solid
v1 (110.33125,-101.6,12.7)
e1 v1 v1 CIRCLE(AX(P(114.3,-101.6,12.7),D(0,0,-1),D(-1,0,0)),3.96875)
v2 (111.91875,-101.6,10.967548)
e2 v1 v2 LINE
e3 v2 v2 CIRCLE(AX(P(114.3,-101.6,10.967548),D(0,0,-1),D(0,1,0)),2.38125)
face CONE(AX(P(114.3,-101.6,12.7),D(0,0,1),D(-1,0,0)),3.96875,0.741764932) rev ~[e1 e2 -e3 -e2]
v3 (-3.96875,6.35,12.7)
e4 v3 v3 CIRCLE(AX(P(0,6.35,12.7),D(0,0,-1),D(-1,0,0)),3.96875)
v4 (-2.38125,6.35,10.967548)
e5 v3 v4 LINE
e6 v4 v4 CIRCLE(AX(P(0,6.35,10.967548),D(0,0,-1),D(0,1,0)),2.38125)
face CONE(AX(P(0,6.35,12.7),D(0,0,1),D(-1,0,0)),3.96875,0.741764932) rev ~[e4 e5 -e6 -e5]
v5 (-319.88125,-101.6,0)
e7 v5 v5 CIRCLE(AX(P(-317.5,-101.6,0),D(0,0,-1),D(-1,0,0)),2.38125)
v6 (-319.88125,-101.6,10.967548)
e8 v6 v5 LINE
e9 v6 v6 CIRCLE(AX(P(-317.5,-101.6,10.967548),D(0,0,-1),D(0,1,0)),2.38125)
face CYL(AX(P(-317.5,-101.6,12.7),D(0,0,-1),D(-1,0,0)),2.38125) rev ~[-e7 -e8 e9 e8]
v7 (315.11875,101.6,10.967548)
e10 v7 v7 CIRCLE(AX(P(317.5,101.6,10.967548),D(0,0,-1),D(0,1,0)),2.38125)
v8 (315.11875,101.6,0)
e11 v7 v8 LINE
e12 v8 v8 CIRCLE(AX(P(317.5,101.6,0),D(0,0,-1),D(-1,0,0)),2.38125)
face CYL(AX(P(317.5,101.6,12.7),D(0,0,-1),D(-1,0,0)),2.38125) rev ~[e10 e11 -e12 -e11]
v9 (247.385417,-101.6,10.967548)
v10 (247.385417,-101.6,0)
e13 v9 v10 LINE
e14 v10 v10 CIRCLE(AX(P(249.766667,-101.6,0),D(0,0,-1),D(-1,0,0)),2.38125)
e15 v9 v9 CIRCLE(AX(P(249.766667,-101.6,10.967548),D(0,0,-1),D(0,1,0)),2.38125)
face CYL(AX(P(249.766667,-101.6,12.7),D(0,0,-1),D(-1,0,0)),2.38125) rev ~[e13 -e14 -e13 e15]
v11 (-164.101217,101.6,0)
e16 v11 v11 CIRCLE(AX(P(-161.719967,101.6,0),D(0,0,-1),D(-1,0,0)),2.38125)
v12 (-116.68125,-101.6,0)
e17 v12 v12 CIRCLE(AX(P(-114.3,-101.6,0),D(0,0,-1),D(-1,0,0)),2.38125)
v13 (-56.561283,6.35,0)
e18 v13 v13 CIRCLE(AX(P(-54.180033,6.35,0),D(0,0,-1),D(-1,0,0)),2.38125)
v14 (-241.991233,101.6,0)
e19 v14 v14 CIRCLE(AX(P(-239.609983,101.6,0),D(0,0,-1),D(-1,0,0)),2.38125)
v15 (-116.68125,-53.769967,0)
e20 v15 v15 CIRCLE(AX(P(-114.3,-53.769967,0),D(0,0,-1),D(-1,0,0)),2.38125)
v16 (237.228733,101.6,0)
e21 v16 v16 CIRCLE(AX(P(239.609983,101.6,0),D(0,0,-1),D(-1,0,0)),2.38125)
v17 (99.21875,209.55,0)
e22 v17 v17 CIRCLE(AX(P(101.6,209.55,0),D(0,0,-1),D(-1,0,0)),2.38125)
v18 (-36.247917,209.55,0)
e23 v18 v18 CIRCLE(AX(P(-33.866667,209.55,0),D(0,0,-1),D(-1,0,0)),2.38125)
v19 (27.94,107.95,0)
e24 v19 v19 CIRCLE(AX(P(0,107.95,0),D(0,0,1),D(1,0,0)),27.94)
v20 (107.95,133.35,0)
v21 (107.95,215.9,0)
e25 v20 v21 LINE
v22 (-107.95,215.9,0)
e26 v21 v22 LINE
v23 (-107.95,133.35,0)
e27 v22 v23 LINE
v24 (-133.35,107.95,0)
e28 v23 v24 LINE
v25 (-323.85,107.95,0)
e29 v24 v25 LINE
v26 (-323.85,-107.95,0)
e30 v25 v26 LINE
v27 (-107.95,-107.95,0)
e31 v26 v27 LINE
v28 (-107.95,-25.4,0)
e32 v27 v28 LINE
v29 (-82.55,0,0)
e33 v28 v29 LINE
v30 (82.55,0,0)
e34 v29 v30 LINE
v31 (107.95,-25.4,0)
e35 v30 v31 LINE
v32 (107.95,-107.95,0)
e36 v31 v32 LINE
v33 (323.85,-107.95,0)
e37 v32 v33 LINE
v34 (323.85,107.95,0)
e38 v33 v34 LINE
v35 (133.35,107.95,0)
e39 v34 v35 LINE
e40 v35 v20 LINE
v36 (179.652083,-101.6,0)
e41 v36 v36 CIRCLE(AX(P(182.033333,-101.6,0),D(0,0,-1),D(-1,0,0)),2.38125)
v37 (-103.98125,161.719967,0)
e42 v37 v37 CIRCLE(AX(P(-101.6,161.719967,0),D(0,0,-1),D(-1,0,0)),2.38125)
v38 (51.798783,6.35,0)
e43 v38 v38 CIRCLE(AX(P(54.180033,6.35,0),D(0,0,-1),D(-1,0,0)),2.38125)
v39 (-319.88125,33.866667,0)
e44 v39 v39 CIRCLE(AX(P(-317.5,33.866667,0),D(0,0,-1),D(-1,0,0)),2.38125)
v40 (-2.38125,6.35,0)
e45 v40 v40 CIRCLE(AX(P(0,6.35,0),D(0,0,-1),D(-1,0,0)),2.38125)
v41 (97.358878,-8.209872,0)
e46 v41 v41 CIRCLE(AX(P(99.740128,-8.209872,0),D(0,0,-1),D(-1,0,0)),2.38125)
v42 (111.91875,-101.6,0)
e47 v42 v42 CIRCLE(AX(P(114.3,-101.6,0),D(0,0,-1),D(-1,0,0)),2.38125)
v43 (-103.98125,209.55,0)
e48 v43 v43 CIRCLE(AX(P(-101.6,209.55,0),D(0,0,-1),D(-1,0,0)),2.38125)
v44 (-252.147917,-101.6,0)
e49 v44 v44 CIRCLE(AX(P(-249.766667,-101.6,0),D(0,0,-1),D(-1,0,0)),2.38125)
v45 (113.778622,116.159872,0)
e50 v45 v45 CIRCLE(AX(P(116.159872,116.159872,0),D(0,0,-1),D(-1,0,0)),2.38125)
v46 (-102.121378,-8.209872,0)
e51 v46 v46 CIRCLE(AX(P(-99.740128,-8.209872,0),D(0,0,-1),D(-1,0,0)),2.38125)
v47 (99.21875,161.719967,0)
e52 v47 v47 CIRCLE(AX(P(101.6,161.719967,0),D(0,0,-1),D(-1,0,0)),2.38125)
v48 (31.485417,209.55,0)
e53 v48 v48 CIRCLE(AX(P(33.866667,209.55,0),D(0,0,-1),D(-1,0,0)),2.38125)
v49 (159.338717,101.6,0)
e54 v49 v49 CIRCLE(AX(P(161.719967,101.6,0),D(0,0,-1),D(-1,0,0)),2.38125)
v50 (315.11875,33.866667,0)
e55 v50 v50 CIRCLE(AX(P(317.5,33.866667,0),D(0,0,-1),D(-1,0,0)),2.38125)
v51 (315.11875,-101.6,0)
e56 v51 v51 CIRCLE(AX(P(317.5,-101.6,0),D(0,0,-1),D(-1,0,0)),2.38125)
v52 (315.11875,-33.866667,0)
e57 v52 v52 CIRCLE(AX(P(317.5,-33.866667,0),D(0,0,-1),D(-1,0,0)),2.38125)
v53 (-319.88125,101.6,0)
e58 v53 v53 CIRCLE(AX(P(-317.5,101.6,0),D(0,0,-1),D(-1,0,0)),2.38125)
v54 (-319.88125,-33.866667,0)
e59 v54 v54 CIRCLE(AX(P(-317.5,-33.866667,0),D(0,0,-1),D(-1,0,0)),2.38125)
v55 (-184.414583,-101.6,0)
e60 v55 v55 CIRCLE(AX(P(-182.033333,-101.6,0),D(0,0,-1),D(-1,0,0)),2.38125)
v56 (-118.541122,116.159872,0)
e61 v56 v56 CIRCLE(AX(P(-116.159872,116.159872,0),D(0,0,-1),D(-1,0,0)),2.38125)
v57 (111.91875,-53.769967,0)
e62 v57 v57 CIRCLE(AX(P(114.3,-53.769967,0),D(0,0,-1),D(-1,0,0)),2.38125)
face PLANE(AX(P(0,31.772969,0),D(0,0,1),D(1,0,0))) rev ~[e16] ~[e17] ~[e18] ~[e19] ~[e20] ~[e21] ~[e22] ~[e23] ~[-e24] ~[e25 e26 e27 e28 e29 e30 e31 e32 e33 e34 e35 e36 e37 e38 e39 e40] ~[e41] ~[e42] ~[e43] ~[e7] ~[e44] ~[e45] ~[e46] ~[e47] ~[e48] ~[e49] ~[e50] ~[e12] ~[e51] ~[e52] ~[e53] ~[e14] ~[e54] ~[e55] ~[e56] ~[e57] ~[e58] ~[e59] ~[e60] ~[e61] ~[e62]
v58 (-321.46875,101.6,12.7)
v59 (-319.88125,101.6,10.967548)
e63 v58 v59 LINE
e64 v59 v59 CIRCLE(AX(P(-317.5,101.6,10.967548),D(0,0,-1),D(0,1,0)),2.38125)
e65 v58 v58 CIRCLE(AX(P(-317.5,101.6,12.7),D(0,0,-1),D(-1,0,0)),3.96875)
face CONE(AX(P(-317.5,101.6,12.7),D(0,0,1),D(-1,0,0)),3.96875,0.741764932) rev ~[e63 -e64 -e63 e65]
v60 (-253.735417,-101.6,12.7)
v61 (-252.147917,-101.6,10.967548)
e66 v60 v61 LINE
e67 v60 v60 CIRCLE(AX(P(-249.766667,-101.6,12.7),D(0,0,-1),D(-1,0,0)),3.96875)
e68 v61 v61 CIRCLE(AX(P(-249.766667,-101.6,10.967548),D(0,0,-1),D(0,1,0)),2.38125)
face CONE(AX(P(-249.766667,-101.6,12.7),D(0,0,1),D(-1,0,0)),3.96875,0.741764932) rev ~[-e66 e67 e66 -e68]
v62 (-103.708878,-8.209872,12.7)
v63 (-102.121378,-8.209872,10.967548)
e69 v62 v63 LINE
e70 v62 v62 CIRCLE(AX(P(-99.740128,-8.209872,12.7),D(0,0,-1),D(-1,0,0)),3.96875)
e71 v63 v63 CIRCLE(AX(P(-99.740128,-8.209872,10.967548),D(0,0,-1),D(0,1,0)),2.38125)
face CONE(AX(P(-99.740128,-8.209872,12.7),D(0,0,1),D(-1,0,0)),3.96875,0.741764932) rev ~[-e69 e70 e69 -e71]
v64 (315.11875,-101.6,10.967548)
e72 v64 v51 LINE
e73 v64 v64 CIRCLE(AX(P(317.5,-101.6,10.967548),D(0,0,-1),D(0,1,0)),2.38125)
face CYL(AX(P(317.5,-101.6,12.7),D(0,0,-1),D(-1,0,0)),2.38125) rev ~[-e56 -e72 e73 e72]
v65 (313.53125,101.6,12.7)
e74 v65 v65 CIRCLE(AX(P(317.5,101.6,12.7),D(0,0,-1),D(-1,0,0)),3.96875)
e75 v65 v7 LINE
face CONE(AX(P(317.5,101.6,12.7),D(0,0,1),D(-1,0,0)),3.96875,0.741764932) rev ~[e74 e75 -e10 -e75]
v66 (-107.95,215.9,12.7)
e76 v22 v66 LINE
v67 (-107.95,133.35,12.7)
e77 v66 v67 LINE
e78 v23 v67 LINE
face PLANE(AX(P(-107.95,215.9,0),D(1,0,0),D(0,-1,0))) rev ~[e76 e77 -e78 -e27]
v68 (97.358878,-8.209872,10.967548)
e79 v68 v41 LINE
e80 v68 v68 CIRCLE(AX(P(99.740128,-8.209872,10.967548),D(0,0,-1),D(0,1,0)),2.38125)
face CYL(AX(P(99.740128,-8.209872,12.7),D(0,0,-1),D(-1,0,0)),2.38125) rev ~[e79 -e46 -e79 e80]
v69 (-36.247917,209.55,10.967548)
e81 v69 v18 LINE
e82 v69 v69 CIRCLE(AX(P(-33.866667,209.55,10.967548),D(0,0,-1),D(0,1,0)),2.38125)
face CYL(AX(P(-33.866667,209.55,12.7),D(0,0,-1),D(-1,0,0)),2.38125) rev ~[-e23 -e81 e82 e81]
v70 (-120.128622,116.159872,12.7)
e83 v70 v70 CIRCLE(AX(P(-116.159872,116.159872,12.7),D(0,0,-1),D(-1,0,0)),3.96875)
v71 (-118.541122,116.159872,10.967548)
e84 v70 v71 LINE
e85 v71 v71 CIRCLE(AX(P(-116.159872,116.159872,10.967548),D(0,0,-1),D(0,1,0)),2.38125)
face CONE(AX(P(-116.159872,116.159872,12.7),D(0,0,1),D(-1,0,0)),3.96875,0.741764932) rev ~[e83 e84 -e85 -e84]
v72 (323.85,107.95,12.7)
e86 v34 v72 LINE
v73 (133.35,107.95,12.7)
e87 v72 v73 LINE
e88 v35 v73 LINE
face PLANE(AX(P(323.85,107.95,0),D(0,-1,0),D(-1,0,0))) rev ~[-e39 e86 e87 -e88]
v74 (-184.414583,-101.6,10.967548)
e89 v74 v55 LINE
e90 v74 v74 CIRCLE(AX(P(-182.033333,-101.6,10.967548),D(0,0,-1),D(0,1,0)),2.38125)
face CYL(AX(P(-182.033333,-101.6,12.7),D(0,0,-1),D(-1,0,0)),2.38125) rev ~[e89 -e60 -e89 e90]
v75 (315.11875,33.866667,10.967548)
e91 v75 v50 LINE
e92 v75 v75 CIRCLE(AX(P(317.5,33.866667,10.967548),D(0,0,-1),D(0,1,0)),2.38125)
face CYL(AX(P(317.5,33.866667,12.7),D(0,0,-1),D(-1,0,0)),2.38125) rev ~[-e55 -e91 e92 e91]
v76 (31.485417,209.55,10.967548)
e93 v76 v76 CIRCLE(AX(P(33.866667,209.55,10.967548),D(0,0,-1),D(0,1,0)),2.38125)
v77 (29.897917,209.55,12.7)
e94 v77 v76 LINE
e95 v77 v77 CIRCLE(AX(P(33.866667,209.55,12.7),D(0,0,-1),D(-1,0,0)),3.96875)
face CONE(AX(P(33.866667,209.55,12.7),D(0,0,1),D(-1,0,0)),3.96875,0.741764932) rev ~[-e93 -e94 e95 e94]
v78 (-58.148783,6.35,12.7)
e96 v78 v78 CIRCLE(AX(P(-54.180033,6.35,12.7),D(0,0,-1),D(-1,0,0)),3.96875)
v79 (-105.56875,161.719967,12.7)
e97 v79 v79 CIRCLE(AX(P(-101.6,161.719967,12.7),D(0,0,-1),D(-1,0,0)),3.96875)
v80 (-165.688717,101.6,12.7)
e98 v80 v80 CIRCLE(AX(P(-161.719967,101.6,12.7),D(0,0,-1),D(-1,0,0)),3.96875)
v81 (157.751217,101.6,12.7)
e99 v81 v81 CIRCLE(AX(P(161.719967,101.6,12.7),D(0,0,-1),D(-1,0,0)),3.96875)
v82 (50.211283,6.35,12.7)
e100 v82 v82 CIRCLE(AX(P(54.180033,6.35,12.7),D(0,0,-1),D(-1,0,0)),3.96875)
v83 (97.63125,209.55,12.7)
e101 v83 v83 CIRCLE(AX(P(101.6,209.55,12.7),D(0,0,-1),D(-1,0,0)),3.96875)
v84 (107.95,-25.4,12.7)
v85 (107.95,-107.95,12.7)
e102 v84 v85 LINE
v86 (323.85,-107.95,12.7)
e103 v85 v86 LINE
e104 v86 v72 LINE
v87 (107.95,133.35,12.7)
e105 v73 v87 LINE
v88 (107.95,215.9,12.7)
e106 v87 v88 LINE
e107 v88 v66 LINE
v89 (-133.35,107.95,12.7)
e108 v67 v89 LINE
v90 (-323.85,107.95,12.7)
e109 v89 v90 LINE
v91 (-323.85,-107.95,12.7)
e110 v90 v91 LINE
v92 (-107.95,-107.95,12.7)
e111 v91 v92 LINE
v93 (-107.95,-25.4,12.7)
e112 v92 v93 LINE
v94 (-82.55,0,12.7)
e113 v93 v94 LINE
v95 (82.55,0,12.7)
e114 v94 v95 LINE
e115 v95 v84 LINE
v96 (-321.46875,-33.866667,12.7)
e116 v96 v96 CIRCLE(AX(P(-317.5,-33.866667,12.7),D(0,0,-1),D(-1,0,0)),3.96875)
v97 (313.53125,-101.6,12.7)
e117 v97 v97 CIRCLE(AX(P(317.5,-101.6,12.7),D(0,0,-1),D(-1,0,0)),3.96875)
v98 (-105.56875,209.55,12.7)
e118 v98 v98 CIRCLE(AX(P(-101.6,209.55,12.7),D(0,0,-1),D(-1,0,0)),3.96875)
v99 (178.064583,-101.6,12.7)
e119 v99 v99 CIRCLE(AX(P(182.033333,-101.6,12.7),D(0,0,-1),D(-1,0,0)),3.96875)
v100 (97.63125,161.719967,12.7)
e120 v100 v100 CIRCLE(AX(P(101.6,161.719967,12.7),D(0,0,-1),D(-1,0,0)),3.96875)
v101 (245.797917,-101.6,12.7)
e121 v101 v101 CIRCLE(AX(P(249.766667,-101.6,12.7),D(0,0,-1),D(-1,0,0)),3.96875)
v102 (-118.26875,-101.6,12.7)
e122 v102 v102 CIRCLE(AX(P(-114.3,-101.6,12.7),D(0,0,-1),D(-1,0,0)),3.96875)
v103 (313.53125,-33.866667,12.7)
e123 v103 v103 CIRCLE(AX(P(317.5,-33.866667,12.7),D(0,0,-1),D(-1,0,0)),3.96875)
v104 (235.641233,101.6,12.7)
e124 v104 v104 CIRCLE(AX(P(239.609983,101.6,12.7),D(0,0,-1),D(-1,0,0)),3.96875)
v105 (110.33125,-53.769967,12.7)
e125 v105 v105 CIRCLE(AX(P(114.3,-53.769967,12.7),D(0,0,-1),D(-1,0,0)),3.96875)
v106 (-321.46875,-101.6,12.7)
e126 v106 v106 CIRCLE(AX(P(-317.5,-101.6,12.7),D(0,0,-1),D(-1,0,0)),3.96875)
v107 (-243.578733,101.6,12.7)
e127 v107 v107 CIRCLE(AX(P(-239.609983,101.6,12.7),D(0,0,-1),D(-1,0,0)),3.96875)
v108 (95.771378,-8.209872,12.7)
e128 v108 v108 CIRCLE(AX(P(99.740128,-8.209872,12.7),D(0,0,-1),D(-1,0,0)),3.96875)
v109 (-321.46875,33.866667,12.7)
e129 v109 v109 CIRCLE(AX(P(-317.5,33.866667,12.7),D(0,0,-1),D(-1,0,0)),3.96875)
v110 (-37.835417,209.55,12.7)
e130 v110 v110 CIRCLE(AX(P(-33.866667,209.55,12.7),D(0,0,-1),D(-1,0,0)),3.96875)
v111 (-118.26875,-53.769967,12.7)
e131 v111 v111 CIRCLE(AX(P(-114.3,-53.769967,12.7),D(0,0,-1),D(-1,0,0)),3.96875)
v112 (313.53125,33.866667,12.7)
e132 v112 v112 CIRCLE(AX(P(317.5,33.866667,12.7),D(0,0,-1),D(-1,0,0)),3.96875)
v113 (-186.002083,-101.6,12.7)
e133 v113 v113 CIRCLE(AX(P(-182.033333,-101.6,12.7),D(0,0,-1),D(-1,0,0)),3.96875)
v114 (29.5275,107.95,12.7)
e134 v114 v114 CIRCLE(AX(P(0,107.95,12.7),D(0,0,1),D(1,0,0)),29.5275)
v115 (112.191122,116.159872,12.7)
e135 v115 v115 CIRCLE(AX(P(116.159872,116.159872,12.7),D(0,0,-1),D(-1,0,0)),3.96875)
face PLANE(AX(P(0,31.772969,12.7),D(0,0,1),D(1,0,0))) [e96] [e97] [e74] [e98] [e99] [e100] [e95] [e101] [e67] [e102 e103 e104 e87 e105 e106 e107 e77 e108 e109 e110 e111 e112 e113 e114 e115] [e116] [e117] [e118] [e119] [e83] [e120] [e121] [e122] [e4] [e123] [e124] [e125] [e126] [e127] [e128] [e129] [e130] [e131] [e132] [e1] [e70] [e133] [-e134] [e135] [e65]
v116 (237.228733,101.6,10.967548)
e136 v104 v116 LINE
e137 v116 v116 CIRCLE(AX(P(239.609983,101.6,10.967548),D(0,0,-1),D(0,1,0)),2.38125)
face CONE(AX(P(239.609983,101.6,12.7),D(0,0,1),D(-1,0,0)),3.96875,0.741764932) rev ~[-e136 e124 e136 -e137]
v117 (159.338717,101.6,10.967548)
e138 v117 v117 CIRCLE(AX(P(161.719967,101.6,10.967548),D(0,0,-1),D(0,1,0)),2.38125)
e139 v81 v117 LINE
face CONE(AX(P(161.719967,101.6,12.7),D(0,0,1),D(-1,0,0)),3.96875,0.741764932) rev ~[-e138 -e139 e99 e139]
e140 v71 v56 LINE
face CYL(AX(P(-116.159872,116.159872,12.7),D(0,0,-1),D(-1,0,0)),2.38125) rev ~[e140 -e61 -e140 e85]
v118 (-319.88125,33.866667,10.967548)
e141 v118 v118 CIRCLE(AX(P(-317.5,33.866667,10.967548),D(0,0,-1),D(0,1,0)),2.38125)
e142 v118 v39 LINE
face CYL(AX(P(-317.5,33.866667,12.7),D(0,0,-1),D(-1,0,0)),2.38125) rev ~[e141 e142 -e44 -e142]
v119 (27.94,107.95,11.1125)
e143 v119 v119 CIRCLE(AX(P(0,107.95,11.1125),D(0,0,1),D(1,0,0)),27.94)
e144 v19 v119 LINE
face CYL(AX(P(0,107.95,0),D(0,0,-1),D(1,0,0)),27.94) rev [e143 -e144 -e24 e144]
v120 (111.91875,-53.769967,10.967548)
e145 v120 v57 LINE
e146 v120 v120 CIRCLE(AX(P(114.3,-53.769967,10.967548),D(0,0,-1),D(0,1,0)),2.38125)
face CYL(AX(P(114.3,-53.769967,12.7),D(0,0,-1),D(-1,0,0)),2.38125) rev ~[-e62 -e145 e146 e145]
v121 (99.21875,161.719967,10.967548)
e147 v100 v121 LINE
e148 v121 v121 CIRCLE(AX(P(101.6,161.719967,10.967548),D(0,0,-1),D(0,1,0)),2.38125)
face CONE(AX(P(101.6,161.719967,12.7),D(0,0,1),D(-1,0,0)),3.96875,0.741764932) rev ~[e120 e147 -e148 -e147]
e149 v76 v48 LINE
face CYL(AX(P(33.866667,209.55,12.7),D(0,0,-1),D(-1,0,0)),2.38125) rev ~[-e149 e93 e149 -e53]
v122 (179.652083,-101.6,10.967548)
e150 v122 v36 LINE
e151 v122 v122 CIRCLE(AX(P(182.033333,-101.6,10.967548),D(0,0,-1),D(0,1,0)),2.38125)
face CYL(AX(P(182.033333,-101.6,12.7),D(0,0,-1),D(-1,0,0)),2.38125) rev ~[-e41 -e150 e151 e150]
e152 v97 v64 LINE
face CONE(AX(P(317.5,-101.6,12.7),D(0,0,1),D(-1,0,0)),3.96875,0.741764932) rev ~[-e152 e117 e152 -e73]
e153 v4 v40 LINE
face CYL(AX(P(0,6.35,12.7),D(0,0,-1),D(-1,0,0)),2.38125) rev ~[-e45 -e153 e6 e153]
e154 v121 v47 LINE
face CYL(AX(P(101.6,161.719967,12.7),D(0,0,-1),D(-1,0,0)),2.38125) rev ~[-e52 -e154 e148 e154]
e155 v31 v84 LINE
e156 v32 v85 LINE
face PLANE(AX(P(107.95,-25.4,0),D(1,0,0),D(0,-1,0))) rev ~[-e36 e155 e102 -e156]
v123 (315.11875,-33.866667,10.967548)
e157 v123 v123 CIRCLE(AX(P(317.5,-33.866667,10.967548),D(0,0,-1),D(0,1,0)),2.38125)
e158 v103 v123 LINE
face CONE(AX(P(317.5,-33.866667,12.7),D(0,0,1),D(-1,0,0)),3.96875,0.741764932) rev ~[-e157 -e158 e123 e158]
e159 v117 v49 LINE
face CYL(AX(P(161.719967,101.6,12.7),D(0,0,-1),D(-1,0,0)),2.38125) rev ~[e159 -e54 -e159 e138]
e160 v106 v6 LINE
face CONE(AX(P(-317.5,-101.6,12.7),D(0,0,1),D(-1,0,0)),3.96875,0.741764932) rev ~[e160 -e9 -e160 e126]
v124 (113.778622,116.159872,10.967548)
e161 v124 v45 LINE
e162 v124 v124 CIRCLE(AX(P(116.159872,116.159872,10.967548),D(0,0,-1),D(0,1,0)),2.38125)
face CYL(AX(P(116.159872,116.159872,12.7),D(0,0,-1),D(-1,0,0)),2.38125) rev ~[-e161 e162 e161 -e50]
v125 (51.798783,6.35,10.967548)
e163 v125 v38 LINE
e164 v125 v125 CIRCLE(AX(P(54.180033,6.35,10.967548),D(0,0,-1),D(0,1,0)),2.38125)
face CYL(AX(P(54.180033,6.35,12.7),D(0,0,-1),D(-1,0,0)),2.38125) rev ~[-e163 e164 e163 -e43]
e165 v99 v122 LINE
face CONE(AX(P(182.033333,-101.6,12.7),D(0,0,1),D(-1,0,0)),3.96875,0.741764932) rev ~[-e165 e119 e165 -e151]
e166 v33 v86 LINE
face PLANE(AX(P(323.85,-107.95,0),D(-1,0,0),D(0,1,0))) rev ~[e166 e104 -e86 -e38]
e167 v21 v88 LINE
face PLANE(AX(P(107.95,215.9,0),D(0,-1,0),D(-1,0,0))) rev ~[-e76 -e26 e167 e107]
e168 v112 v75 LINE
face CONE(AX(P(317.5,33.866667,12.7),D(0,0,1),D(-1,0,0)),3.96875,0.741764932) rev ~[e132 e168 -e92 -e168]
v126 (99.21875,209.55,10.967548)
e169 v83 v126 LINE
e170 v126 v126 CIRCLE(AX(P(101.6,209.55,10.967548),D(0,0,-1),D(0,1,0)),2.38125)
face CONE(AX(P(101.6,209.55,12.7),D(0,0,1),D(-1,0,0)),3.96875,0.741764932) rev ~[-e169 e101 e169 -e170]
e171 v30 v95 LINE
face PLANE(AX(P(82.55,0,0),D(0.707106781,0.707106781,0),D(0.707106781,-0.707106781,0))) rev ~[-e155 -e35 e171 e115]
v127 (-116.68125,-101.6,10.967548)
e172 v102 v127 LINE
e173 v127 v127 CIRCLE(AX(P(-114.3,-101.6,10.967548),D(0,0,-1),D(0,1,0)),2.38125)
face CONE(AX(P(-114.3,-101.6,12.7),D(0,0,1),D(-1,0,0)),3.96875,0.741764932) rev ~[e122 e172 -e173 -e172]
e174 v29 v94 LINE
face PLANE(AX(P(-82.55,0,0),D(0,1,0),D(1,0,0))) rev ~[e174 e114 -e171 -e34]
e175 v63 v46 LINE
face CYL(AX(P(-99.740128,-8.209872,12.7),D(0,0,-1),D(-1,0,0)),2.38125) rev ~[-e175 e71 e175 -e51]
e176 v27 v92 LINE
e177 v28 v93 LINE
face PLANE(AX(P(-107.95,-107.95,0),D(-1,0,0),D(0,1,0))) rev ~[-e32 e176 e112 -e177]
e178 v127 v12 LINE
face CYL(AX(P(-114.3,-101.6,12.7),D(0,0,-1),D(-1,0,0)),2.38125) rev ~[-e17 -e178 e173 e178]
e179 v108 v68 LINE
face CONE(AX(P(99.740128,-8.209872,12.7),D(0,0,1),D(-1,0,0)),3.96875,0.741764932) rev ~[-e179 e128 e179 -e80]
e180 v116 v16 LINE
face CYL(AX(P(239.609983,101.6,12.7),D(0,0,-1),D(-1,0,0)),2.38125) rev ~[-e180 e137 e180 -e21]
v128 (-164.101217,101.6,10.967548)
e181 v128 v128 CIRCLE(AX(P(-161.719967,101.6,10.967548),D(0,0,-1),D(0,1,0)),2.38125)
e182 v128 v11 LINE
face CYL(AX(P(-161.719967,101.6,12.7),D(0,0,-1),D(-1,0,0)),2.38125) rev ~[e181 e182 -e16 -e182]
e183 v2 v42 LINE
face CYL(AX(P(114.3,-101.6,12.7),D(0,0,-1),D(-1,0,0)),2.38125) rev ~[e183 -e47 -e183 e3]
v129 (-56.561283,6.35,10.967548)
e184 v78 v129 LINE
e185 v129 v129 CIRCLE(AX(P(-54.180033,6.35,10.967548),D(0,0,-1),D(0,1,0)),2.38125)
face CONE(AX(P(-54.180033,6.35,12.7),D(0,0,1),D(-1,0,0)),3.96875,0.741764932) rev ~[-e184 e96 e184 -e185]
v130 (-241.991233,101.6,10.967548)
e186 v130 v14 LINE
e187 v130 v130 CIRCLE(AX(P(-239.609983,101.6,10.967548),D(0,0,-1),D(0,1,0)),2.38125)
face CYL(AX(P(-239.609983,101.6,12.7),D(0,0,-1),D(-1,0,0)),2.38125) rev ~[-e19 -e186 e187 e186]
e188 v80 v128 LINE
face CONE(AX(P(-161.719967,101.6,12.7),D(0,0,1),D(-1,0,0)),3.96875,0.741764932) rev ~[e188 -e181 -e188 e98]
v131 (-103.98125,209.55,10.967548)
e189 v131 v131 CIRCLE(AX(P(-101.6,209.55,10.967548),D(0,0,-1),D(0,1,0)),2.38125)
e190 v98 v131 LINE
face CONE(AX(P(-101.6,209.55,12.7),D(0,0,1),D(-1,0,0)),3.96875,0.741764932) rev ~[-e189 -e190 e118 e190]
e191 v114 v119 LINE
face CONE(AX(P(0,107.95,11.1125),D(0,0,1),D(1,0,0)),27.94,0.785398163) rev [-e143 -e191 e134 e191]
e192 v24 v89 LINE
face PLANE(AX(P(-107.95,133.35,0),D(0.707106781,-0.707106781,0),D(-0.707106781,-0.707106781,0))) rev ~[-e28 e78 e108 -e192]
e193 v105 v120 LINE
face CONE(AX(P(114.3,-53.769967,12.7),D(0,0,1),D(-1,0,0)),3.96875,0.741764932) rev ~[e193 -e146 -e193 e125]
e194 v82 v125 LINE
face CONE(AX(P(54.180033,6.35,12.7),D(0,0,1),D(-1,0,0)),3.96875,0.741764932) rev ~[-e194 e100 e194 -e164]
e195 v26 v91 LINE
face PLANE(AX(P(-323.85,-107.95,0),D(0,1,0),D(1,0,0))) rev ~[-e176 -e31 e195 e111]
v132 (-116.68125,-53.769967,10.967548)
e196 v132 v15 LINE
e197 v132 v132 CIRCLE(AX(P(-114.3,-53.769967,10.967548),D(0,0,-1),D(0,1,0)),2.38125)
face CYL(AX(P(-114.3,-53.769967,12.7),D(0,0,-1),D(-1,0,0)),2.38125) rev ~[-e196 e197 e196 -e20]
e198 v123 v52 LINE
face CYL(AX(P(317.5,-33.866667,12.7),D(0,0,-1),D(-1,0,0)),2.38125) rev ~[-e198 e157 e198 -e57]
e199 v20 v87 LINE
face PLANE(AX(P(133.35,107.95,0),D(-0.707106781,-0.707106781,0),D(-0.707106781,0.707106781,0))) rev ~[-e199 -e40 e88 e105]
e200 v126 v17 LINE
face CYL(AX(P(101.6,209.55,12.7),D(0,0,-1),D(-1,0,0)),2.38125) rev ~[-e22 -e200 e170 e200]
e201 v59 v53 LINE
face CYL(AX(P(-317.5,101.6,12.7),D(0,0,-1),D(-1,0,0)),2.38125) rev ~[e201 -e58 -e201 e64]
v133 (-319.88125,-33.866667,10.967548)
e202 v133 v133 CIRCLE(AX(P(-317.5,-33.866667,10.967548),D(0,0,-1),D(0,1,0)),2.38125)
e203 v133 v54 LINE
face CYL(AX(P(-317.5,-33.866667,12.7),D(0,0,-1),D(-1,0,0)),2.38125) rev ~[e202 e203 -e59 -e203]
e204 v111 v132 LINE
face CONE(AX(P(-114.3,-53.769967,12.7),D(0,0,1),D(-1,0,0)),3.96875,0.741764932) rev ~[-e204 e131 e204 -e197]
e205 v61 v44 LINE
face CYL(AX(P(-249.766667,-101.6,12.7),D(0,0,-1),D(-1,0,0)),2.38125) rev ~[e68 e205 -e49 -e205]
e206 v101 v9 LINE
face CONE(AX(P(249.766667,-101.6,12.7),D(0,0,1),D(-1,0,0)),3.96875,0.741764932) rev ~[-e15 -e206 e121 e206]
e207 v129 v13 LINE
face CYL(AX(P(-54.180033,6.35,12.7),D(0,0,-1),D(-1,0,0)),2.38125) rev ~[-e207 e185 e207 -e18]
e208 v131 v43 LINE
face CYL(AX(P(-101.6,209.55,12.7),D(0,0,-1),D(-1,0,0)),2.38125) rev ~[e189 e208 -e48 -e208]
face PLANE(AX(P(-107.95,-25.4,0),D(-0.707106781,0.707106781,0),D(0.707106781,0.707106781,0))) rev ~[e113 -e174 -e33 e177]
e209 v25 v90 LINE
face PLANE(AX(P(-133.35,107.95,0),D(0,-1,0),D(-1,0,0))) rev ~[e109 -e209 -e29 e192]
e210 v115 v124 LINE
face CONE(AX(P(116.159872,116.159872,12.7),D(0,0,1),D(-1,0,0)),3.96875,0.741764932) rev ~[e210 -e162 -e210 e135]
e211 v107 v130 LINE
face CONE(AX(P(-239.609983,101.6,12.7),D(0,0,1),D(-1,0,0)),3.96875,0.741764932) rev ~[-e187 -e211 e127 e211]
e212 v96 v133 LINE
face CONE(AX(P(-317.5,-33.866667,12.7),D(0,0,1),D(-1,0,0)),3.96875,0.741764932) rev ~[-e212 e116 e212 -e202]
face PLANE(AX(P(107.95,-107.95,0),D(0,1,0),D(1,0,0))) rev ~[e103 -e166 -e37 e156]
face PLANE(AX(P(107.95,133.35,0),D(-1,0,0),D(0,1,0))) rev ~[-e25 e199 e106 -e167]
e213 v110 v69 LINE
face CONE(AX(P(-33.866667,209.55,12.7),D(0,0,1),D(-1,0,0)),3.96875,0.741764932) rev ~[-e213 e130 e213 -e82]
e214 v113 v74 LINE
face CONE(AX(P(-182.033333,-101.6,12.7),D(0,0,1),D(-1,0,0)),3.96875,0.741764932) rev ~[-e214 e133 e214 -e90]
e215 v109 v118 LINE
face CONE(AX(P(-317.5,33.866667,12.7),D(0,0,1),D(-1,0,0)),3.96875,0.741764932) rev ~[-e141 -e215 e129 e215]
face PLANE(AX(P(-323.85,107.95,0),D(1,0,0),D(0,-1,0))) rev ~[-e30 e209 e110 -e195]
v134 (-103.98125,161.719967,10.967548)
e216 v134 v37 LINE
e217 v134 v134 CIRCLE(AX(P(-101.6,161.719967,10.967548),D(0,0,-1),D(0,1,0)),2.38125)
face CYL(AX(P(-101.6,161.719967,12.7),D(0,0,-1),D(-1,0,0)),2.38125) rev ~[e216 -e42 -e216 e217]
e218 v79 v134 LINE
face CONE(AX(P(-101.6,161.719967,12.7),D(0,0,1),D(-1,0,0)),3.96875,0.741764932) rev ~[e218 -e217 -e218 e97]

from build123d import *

# Parameters (mm, degrees)
F0_R           = 27.94
F1_DEPTH       = 12.7
F3_D           = 4.7625
F3_CSINK_D     = 7.9375
F3_CSINK_ANGLE = 85
F4_SIZE        = 1.5875


with BuildPart() as f1:
    # F0 (on Top) → F1 (new body)
    with BuildSketch(Plane.XY):
        Polygon((-82.55, 0), (82.55, 0), (107.95, -25.4), (107.95, -107.95), (323.85, -107.95), (323.85, 107.95), (133.35, 107.95), (107.95, 133.35), (107.95, 215.9), (-107.95, 215.9), (-107.95, 133.35), (-133.35, 107.95), (-323.85, 107.95), (-323.85, -107.95), (-107.95, -107.95), (-107.95, -25.4), align=None)
        with Locations((0, 107.95)):
            Circle(F0_R, mode=Mode.SUBTRACT)
    extrude(amount=F1_DEPTH)

    # F3 (through all)
    with Locations(Plane.XY.offset(12.7)):
        with Locations((-239.609983, 101.6), (-161.719967, 101.6), (-116.159872, 116.159872), (-101.6, 161.719967), (-101.6, 209.55), (-33.866667, 209.55), (33.866667, 209.55), (101.6, 209.55), (101.6, 161.719967), (116.159872, 116.159872), (161.719967, 101.6), (239.609983, 101.6), (317.5, 33.866667), (317.5, 101.6), (317.5, -33.866667), (317.5, -101.6), (249.766667, -101.6), (182.033333, -101.6), (114.3, -53.769967), (114.3, -101.6), (99.740128, -8.209872), (54.180033, 6.35), (0, 6.35), (-54.180033, 6.35), (-99.740128, -8.209872), (-114.3, -53.769967), (-114.3, -101.6), (-182.033333, -101.6), (-249.766667, -101.6), (-317.5, -101.6), (-317.5, -33.866667), (-317.5, 33.866667), (-317.5, 101.6)):
            CounterSinkHole(F3_D / 2, F3_CSINK_D / 2, counter_sink_angle=F3_CSINK_ANGLE)

    # F4
    f4_edges = [f1.edges().sort_by_distance(p)[0] for p in [
        (-27.94, 107.95, 12.7),
    ]]
    chamfer(f4_edges, length=F4_SIZE)


solid = f1.part
